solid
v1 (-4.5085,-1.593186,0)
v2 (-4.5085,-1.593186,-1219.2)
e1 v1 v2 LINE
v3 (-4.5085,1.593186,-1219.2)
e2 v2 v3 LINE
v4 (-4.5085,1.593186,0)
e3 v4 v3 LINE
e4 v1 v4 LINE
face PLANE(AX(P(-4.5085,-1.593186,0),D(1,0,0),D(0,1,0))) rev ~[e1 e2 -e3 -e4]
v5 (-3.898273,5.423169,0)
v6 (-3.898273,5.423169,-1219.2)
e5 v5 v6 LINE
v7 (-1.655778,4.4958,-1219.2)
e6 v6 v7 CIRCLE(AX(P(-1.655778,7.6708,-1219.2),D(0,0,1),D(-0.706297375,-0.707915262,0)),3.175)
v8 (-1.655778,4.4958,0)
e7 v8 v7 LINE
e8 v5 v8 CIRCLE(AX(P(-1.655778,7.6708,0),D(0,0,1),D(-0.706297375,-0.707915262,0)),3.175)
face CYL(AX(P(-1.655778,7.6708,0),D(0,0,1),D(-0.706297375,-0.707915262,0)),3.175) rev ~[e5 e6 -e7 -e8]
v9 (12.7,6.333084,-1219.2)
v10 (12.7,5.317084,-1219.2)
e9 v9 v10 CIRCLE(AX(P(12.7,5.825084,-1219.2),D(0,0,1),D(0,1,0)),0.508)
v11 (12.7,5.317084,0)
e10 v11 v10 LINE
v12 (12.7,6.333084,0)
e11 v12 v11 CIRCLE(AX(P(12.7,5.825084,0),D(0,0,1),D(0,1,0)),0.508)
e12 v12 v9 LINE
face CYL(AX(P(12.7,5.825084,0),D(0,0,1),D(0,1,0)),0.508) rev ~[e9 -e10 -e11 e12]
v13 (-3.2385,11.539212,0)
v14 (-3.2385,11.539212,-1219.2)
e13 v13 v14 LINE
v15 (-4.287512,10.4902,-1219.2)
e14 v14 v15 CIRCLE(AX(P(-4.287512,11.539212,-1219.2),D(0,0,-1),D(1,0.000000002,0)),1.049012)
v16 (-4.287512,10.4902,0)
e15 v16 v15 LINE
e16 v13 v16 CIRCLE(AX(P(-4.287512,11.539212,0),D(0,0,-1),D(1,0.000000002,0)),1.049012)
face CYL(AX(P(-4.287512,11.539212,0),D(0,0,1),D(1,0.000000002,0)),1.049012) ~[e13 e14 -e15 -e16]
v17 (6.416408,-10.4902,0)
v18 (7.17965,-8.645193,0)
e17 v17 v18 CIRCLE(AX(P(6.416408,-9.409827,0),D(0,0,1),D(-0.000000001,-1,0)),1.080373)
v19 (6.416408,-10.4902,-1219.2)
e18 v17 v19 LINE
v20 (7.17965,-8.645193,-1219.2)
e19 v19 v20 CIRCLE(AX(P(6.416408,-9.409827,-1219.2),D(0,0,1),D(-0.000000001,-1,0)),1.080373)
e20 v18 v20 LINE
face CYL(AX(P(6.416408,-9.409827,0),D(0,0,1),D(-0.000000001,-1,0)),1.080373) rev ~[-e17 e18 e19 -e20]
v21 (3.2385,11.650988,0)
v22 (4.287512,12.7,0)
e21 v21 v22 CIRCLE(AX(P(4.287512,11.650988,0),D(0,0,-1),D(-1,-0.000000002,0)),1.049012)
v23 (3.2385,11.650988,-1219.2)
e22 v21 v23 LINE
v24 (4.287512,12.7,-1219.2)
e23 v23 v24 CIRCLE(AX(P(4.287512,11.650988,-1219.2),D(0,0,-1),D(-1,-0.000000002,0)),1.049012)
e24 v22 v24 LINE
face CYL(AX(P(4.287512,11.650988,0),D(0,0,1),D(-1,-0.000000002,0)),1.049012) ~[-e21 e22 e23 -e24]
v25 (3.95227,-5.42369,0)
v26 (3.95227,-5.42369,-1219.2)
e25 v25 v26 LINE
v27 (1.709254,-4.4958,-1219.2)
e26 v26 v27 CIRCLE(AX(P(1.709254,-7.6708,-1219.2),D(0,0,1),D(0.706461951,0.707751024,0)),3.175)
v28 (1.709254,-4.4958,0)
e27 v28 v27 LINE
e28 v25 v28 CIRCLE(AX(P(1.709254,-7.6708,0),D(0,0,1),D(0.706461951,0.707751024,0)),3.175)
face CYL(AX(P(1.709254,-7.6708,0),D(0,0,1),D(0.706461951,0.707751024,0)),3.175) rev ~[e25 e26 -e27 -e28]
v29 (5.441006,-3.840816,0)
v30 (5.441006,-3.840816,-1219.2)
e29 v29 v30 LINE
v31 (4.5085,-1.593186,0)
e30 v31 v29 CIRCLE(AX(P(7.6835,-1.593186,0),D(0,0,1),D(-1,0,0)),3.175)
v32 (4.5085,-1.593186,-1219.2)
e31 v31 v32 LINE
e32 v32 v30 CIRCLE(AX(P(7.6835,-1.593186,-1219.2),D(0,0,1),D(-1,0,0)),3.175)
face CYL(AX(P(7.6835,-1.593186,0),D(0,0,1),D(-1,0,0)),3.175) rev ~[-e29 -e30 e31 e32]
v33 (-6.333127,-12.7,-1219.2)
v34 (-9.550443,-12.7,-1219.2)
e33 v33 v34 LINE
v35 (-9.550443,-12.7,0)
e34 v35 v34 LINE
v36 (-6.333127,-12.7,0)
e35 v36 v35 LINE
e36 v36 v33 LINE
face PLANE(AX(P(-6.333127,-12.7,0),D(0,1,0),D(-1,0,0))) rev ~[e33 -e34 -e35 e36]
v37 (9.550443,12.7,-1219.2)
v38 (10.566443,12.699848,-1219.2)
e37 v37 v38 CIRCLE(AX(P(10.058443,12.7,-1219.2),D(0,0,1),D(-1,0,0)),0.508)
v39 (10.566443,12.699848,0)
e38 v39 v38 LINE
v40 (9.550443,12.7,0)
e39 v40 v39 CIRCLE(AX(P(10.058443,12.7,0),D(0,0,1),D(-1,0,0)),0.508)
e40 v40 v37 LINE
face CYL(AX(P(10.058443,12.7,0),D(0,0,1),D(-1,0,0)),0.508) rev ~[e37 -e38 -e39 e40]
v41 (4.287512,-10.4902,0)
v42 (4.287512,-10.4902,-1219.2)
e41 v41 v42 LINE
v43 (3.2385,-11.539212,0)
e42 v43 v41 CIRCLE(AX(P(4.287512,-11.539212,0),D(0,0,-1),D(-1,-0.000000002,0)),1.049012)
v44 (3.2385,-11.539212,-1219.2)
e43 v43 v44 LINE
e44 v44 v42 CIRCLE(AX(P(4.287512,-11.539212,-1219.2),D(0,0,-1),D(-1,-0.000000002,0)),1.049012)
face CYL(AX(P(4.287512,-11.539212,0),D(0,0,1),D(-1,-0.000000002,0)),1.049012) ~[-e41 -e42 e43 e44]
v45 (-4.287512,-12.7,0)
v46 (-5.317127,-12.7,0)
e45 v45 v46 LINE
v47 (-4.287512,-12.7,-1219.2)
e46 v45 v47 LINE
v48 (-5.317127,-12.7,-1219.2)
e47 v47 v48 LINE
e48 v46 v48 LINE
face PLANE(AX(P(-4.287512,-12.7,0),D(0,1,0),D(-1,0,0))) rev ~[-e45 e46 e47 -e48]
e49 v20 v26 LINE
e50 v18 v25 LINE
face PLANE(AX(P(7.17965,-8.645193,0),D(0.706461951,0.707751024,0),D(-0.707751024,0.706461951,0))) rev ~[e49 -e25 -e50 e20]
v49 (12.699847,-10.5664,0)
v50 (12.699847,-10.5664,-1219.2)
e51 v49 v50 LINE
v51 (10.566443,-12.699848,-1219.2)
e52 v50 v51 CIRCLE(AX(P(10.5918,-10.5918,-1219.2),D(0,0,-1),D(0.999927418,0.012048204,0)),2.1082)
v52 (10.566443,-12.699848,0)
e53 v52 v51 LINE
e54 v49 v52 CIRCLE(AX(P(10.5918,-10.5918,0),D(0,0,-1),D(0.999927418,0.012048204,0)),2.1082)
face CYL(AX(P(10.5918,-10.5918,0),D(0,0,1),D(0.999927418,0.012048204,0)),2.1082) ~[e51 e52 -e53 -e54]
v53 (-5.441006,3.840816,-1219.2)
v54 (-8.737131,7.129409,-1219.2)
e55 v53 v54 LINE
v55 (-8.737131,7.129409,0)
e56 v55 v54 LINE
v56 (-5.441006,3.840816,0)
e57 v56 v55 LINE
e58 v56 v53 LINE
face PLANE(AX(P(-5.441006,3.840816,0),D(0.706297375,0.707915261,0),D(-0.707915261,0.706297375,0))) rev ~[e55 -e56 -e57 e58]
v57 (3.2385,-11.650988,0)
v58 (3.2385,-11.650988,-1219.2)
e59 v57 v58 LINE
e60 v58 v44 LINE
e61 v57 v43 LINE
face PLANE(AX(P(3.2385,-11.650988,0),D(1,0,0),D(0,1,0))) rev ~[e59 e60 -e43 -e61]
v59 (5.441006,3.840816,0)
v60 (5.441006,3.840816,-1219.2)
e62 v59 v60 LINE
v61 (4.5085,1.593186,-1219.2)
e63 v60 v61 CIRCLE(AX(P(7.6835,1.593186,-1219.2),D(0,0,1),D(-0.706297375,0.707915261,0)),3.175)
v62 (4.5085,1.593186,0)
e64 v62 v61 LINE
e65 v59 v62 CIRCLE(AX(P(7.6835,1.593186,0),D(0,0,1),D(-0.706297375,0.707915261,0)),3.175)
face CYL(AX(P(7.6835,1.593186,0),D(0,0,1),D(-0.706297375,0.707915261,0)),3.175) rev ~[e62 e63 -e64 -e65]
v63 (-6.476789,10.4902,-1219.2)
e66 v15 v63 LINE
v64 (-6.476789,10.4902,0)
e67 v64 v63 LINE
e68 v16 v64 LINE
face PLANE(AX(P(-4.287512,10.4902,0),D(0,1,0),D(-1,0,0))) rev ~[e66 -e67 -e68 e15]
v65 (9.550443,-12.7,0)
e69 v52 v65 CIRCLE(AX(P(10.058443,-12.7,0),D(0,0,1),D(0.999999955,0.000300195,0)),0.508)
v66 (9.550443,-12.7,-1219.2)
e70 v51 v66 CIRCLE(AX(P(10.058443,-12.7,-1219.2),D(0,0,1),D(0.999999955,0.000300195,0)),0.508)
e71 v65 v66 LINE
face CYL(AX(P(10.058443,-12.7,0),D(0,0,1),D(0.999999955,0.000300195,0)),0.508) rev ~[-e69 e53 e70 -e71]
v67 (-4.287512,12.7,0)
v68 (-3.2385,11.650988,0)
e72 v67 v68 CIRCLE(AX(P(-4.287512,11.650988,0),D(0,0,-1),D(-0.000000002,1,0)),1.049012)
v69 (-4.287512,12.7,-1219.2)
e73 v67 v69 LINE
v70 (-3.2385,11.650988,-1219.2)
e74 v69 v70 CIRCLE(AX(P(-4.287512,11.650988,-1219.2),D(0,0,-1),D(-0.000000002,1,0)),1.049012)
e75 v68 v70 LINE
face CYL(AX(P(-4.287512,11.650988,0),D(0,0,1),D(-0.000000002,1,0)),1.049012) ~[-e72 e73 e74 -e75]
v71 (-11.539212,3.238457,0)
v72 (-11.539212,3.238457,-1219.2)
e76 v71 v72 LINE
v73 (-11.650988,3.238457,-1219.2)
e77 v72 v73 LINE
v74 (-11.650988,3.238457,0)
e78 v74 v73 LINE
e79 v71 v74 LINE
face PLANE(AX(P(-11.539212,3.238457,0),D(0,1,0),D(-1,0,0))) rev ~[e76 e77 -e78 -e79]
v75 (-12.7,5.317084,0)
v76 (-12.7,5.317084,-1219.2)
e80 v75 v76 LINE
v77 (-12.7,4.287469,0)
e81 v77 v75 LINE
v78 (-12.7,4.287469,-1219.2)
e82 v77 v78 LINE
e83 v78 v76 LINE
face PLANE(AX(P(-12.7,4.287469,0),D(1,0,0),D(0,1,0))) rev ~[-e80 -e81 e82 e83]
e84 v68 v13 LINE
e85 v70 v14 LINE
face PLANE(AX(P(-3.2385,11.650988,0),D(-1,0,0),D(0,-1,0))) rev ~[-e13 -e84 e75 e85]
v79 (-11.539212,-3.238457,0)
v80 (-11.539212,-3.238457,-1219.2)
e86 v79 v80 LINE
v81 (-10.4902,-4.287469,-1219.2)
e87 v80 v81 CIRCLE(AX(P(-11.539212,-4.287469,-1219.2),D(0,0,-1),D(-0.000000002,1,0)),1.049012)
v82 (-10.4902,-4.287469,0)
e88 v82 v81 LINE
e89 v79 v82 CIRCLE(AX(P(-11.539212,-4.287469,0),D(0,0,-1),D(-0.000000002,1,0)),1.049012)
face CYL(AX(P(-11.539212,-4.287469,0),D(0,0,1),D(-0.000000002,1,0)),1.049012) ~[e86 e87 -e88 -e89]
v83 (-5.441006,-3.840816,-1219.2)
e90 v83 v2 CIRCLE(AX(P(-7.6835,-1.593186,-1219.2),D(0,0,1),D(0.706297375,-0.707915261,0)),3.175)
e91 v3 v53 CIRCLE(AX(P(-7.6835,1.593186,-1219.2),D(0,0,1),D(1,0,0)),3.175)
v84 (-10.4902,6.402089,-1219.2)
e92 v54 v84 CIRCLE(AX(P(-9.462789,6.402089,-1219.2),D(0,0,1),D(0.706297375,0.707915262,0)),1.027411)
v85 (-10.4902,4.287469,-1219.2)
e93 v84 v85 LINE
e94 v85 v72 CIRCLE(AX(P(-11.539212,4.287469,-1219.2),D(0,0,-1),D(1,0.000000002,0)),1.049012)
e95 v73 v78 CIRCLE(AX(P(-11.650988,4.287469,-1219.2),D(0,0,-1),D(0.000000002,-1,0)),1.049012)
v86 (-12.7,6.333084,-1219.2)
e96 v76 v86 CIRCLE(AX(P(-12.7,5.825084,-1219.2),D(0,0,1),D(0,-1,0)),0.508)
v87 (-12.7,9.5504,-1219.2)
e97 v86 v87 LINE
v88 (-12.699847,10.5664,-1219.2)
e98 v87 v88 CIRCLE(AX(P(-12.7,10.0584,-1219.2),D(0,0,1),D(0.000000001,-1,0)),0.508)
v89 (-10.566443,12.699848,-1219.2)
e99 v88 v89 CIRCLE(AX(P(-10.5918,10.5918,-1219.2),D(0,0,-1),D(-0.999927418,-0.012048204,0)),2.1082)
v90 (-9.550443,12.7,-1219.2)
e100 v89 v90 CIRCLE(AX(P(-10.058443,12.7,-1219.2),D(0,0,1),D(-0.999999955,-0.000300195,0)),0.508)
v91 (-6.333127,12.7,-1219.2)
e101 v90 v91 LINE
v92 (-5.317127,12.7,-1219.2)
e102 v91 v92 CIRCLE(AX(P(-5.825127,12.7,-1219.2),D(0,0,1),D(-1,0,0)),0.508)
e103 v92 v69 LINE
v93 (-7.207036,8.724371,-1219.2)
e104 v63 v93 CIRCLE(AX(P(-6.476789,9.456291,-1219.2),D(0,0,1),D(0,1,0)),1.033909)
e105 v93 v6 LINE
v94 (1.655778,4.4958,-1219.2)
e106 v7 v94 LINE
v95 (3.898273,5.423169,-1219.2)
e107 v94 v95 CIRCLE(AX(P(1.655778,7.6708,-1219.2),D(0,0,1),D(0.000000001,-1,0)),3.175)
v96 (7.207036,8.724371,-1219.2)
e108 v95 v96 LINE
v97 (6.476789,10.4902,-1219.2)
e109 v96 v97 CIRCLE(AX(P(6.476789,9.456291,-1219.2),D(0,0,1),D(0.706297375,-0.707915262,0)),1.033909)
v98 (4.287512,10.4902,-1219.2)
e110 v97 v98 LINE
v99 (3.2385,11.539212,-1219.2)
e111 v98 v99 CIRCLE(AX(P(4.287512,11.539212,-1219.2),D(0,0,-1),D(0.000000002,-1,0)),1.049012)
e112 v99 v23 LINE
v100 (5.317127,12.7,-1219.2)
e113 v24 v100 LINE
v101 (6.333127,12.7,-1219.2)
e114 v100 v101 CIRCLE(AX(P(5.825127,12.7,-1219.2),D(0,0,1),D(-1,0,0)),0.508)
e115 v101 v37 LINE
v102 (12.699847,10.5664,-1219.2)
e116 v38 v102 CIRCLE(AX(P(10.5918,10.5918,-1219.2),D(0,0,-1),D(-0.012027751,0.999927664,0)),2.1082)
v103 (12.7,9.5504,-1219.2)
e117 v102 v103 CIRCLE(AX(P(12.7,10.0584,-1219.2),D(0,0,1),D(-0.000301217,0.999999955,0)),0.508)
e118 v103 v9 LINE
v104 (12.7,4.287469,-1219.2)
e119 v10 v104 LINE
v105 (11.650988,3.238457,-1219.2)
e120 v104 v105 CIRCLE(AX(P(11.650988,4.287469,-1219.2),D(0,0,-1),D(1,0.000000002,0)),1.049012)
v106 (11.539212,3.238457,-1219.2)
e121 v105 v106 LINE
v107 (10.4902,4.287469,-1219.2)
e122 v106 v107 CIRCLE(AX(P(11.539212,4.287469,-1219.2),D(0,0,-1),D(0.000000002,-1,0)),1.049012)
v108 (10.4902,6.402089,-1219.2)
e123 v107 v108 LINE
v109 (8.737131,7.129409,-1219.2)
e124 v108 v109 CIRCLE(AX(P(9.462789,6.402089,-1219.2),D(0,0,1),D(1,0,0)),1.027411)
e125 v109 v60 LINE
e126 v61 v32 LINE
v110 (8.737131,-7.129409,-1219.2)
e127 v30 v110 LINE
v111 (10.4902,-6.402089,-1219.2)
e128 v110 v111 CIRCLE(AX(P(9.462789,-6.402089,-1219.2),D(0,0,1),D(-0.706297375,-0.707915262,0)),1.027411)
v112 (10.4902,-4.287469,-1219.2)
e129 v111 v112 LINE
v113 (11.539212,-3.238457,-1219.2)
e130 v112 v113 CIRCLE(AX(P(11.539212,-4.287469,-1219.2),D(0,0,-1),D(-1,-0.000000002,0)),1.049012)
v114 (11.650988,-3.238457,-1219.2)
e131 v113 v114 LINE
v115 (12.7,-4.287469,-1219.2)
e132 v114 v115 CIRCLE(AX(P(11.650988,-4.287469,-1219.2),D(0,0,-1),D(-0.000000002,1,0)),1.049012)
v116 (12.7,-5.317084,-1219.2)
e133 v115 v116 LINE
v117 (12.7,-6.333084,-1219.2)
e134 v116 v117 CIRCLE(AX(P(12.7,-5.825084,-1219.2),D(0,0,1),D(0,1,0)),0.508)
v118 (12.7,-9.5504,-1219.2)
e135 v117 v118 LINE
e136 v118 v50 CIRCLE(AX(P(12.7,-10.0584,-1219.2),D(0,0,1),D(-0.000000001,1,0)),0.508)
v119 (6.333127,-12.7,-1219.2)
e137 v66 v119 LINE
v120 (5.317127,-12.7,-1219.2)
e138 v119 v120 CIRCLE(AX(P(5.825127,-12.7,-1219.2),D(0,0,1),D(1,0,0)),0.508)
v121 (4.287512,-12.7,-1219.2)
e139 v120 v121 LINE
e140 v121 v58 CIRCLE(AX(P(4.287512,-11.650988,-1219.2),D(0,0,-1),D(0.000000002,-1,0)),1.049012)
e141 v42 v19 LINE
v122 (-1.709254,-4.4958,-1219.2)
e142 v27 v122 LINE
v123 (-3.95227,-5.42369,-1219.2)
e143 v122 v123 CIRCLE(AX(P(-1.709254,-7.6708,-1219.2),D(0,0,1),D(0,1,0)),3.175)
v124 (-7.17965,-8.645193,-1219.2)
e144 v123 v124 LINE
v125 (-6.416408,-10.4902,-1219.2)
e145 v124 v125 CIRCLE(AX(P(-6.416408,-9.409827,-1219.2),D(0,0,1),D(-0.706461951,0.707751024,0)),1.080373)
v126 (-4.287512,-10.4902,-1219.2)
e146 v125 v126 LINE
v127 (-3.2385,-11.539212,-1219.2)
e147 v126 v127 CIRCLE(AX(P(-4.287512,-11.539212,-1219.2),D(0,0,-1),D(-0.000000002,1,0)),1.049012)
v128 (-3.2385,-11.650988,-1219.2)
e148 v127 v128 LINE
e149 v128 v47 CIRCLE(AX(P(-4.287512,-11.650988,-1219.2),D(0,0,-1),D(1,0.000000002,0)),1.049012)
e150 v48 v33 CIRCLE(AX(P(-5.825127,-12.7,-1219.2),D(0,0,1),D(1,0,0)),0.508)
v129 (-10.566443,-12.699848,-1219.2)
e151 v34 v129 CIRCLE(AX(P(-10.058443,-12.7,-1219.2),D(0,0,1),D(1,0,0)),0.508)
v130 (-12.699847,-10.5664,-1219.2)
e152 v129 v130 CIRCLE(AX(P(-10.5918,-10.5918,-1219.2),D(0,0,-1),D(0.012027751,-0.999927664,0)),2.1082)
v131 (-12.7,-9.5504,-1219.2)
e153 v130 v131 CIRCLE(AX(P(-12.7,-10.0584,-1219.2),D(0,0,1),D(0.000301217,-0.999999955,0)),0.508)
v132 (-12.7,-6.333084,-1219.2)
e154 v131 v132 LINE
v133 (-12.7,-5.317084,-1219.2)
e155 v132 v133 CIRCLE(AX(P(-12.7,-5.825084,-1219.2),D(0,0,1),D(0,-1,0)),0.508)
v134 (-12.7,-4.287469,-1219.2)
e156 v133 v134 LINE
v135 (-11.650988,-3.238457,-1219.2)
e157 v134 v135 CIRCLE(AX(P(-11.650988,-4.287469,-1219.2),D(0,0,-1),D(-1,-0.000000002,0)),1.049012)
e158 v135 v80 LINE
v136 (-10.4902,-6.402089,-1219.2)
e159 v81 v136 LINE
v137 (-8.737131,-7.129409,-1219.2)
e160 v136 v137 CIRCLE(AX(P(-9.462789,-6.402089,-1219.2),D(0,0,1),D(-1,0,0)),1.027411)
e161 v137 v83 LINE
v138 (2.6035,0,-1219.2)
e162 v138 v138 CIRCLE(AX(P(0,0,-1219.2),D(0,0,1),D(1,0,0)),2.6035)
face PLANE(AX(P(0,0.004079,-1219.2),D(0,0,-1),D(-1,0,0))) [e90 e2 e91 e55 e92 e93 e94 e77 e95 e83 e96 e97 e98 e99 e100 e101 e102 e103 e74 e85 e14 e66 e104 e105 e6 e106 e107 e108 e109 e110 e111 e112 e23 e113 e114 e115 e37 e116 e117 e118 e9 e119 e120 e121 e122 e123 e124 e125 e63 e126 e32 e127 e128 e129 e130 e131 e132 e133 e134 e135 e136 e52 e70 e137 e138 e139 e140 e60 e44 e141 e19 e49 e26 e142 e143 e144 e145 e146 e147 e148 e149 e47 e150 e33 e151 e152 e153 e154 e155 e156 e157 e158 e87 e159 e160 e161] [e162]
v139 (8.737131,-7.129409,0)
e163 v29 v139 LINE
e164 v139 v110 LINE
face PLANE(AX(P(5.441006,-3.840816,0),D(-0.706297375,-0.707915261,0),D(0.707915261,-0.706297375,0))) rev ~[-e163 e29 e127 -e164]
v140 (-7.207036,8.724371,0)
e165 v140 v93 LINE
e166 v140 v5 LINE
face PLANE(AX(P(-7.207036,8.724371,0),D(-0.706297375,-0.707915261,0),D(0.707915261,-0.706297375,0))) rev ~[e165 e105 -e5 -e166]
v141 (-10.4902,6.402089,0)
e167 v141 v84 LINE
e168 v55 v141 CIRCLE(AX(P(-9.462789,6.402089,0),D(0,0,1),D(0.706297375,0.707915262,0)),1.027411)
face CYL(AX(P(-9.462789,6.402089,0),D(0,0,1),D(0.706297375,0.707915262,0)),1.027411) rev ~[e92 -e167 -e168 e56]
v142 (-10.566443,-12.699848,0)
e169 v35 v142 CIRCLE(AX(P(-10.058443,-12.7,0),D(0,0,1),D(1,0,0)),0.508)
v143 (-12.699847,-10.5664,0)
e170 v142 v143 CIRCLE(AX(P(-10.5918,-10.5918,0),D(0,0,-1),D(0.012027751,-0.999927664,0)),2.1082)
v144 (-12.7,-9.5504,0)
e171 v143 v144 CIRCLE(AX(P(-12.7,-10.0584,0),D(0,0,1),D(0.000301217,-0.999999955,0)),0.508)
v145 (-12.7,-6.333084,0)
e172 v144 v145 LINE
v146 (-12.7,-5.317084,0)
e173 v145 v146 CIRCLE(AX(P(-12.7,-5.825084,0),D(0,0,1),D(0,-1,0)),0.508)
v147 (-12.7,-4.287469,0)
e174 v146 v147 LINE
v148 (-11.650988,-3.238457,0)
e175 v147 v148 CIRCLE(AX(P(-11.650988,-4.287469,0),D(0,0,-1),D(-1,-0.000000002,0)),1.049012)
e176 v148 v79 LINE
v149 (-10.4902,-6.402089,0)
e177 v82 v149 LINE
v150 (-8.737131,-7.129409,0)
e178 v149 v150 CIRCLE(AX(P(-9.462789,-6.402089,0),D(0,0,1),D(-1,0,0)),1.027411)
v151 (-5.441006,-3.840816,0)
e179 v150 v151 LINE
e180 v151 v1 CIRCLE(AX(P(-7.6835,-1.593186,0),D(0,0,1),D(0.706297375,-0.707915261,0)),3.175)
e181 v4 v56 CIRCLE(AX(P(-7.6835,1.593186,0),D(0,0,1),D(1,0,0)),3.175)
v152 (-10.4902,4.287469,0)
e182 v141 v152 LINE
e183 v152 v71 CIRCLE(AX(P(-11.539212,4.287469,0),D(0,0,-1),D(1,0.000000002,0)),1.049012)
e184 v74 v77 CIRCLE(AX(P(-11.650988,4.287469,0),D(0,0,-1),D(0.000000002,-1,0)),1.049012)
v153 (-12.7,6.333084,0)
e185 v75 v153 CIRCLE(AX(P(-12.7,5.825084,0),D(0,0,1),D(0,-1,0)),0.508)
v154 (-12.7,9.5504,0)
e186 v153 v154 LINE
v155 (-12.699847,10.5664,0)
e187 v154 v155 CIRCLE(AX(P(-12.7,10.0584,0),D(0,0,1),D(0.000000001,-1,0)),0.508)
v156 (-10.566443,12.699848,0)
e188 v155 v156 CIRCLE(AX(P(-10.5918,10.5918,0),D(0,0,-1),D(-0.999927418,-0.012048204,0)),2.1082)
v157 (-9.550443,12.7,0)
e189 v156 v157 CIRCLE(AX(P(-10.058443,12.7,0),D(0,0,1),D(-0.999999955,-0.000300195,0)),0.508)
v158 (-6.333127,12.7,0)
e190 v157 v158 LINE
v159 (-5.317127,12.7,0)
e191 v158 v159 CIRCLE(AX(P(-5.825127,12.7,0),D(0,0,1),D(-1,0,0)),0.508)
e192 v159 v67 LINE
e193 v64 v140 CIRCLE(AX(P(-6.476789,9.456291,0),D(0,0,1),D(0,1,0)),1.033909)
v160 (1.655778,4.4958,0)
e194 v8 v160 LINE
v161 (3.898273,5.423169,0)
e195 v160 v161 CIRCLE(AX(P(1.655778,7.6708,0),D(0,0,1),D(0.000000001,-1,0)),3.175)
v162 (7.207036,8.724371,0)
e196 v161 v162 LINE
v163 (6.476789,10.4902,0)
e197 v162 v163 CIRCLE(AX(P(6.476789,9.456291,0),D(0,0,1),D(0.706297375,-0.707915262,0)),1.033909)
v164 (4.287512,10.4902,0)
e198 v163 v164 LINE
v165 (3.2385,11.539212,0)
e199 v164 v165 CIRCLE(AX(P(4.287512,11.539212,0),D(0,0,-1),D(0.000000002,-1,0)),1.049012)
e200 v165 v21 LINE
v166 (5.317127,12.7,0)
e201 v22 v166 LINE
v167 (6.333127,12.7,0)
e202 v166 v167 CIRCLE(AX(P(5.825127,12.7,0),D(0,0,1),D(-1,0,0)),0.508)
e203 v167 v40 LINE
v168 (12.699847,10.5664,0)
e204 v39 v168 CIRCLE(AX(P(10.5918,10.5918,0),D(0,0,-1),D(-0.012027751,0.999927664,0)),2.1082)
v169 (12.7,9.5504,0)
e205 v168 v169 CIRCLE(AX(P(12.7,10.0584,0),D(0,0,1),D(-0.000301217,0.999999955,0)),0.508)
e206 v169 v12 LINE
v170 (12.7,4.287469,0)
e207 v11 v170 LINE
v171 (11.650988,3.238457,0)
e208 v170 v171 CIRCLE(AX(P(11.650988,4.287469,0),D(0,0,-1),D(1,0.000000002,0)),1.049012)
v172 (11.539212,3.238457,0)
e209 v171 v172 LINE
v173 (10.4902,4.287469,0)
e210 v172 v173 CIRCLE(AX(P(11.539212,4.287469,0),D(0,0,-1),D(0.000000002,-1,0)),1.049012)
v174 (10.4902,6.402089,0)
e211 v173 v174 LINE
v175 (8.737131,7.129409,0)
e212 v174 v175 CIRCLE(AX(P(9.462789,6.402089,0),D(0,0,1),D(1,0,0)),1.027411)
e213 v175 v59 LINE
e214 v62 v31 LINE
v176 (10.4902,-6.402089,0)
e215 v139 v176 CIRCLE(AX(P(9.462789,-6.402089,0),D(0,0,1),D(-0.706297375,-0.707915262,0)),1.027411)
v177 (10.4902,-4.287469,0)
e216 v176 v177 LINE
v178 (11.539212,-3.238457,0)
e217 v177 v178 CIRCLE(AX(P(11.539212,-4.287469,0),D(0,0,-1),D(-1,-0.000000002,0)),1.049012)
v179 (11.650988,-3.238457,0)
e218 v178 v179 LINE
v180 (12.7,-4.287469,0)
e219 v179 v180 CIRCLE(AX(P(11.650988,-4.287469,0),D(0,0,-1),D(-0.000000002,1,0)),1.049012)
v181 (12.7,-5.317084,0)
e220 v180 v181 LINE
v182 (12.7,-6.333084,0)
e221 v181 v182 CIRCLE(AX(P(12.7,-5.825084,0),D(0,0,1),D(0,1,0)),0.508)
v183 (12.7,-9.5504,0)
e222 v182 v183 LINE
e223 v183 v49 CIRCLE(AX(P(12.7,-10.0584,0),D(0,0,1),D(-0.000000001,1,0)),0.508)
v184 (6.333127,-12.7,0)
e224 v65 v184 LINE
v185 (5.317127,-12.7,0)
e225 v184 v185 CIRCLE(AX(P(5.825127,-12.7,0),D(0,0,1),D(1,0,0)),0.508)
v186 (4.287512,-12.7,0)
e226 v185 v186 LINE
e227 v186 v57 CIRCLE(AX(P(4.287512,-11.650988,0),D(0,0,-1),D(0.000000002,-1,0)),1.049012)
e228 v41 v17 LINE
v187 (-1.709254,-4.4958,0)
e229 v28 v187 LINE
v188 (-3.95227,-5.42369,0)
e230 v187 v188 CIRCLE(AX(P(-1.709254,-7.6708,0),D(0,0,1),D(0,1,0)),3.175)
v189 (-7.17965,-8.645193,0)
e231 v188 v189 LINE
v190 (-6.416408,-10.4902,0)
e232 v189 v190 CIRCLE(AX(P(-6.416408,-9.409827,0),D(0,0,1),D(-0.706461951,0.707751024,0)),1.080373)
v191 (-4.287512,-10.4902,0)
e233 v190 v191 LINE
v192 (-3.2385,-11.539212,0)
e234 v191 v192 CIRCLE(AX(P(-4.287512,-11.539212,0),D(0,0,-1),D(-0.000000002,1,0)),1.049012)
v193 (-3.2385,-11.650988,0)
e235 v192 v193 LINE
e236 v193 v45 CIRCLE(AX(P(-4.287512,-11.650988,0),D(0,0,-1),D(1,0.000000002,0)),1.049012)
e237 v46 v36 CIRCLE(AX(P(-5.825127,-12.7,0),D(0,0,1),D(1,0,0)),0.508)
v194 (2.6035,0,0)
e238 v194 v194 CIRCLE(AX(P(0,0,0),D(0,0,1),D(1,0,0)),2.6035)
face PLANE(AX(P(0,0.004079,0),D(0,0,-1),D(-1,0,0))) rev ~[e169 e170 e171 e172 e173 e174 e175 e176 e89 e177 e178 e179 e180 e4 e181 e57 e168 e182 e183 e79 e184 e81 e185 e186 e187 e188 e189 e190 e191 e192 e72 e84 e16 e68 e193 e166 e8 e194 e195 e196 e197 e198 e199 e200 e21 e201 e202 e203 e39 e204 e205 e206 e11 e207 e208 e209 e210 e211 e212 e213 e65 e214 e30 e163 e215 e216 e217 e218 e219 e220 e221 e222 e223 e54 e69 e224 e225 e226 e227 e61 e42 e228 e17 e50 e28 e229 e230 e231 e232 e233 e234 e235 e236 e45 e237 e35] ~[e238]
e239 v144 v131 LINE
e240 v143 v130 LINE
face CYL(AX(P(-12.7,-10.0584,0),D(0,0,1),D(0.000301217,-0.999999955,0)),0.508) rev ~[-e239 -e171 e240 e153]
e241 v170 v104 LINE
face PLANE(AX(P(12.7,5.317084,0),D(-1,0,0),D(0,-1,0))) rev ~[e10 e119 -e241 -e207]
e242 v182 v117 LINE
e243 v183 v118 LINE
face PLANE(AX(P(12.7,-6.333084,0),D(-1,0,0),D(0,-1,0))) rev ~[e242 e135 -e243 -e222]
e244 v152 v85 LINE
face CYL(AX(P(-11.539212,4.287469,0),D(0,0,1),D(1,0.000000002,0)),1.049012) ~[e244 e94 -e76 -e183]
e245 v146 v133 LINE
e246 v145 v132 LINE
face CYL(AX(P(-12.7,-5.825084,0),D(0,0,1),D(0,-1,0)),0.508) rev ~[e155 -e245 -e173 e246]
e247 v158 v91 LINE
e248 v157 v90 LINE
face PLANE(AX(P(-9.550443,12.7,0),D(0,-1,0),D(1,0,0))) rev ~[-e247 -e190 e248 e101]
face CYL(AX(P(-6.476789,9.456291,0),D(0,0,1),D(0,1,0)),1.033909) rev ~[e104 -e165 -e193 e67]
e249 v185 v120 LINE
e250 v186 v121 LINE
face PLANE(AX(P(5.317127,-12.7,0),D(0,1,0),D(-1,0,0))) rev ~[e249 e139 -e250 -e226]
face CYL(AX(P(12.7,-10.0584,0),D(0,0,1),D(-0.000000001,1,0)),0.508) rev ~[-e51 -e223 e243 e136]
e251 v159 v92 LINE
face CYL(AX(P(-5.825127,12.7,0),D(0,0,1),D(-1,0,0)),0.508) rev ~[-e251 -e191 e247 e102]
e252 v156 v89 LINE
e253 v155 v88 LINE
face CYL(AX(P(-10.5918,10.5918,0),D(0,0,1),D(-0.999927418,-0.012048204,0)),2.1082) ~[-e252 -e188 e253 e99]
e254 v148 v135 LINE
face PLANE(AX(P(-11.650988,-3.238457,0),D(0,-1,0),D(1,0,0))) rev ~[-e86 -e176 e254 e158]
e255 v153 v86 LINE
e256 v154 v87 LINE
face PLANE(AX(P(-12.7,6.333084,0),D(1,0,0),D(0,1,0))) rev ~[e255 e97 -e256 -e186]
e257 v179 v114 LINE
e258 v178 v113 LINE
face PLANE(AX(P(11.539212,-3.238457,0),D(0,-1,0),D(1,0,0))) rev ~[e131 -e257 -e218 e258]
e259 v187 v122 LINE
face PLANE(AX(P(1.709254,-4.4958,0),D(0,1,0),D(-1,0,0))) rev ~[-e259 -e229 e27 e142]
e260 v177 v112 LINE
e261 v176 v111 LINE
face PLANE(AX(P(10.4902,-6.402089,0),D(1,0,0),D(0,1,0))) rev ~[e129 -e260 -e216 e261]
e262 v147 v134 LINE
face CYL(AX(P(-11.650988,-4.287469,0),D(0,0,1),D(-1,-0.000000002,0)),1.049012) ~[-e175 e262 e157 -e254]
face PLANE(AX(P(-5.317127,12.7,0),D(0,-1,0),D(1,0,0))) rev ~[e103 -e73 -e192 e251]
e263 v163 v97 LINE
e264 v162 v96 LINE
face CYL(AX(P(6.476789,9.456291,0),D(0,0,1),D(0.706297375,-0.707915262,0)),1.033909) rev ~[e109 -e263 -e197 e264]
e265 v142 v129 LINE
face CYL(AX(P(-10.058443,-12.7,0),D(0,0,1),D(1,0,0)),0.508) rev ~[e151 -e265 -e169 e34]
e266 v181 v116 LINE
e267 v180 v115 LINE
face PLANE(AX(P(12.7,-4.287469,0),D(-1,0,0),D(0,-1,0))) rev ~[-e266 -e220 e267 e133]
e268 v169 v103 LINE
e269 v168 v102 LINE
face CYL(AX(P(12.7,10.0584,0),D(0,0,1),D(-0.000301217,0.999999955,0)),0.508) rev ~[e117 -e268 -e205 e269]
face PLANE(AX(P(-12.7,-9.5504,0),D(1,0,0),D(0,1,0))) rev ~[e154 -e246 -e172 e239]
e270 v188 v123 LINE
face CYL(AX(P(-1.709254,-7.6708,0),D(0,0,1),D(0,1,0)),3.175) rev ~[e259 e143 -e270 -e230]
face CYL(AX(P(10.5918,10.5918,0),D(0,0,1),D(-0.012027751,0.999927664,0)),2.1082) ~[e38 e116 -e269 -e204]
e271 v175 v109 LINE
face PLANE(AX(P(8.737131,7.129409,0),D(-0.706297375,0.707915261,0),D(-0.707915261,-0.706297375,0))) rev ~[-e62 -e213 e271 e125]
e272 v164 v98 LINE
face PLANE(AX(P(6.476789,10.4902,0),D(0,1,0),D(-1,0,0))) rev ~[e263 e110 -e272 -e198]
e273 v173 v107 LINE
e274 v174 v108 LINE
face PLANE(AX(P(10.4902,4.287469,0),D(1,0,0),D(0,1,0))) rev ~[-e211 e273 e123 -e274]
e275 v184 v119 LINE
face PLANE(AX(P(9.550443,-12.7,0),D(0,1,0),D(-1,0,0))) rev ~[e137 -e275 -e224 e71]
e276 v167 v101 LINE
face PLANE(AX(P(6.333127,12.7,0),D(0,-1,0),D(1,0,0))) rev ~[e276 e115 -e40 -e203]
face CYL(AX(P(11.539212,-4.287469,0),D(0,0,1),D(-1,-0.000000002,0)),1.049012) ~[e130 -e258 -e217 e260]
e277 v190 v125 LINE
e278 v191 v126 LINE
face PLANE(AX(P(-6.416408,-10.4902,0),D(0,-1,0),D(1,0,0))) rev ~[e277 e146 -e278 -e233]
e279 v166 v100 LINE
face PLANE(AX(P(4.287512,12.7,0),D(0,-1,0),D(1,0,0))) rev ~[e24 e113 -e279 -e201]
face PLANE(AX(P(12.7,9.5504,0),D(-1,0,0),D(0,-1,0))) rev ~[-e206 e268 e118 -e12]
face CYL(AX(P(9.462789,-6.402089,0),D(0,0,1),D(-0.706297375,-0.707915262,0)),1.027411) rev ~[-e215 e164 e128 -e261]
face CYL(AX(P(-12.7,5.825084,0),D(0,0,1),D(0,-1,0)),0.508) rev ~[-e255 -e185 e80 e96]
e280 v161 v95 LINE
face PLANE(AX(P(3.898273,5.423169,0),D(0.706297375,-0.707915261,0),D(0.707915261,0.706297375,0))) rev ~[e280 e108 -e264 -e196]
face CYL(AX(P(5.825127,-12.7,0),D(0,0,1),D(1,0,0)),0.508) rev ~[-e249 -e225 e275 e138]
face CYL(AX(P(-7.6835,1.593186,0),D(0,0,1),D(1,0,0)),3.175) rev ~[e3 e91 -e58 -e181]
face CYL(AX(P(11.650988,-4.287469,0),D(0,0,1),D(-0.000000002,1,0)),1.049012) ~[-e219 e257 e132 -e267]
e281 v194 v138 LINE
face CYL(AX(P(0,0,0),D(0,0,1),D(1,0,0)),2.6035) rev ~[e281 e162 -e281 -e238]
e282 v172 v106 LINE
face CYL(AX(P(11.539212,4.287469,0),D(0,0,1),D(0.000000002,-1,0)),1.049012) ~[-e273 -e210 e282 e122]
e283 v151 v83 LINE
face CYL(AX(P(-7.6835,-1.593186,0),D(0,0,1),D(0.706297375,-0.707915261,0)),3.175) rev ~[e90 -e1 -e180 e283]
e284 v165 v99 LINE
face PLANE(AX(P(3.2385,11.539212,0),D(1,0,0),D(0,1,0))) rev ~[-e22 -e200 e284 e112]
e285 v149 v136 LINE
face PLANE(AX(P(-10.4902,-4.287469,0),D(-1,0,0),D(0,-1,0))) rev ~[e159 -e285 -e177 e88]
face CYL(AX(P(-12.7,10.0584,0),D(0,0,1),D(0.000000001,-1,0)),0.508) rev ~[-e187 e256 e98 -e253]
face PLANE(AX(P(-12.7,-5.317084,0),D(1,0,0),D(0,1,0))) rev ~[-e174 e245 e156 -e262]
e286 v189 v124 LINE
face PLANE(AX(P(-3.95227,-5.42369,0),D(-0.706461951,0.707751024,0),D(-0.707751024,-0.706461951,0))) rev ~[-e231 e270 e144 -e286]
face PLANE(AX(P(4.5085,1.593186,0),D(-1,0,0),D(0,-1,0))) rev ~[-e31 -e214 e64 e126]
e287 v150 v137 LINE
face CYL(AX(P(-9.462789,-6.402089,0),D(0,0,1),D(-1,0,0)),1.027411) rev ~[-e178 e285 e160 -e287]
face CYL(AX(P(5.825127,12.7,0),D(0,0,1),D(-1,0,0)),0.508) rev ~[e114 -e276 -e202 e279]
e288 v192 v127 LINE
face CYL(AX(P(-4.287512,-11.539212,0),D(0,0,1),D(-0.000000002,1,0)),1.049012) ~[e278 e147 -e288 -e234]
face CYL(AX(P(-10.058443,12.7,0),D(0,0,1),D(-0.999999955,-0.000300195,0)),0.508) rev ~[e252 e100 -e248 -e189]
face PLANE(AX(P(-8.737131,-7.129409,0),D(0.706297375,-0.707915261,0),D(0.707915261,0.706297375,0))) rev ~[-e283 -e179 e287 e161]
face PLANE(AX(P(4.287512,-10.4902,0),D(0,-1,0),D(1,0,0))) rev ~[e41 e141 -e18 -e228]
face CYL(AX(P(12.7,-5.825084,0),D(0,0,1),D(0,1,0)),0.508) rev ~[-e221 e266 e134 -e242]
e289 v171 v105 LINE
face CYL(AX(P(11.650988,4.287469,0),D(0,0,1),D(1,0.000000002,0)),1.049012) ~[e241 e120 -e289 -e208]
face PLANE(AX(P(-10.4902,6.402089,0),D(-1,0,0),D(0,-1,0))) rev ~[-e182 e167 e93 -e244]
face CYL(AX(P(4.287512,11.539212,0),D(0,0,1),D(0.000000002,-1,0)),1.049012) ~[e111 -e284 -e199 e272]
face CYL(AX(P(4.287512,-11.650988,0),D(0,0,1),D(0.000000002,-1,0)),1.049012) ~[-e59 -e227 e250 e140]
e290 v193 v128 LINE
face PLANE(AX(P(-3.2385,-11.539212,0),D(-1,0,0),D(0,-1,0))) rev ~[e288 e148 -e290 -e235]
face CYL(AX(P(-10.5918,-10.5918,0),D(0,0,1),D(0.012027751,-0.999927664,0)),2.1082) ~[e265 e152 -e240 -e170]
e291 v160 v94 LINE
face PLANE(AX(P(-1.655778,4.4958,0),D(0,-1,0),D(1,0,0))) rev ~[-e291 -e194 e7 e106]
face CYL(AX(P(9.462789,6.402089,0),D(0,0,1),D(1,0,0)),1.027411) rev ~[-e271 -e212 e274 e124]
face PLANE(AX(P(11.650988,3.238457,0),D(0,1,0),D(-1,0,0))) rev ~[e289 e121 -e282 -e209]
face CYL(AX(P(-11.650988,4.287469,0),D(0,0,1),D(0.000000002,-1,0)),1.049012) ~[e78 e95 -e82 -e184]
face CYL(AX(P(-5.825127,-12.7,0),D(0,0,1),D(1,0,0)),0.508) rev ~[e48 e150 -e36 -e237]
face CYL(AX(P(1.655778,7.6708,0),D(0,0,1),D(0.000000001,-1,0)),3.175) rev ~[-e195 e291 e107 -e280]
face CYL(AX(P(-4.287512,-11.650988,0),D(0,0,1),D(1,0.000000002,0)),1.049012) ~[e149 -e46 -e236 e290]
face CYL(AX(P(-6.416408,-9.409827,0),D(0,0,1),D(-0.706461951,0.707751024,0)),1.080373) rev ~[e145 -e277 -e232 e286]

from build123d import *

# Parameters (mm, degrees)
SKETCH1_R      = 2.6035
EXTRUDE1_DEPTH = 1219.2


with BuildPart() as part:
    # Sketch1 → Extrude1 (new body)
    with BuildSketch(Plane.XY):
        with BuildLine():
            Line((-7.207036008, 8.724370562), (-3.898272566, 5.423169045))
            ThreePointArc((-3.898272566, 5.423169045), (-2.869120213, 4.736787962), (-1.655778399, 4.4958))
            Line((-1.655778399, 4.4958), (1.655778399, 4.4958))
            ThreePointArc((1.655778399, 4.4958), (2.869120213, 4.736787962), (3.898272566, 5.423169045))
            Line((3.898272566, 5.423169045), (7.207036008, 8.724370562))
            ThreePointArc((7.207036008, 8.724370562), (7.432222385, 9.85140422), (6.476788598, 10.4902))
            Line((6.476788598, 10.4902), (4.287512407, 10.4902))
            ThreePointArc((4.287512407, 10.4902), (3.54574862, 10.79744862), (3.2385, 11.539212407))
            Line((3.2385, 11.539212407), (3.2385, 11.650987593))
            ThreePointArc((3.2385, 11.650987593), (3.54574862, 12.39275138), (4.287512407, 12.7))
            Line((4.287512407, 12.7), (5.317126718, 12.7))
            ThreePointArc((5.317126718, 12.7), (5.825126718, 12.192), (6.333126718, 12.7))
            Line((6.333126718, 12.7), (9.550443118, 12.7))
            ThreePointArc((9.550443118, 12.7), (10.058366869, 12.192000006), (10.566443095, 12.699847501))
            ThreePointArc((10.566443095, 12.699847501), (12.082537762, 12.08250727), (12.699846982, 10.566399977))
            ThreePointArc((12.699846982, 10.566399977), (12.192000006, 10.058323491), (12.7, 9.5504))
            Line((12.7, 9.5504), (12.7, 6.3330836))
            ThreePointArc((12.7, 6.3330836), (12.192, 5.8250836), (12.7, 5.3170836))
            Line((12.7, 5.3170836), (12.7, 4.287469289))
            ThreePointArc((12.7, 4.287469289), (12.39275138, 3.545705502), (11.650987593, 3.238456882))
            Line((11.650987593, 3.238456882), (11.539212407, 3.238456882))
            ThreePointArc((11.539212407, 3.238456882), (10.79744862, 3.545705502), (10.4902, 4.287469289))
            Line((10.4902, 4.287469289), (10.4902, 6.402089023))
            ThreePointArc((10.4902, 6.402089023), (9.856505071, 7.351067942), (8.737131347, 7.129408934))
            Line((8.737131347, 7.129408934), (5.441005833, 3.840816462))
            ThreePointArc((5.441005833, 3.840816462), (4.750877967, 2.809883091), (4.5085, 1.593185507))
            Line((4.5085, 1.593185507), (4.5085, -1.593185507))
            ThreePointArc((4.5085, -1.593185507), (4.750877967, -2.809883091), (5.441005833, -3.840816462))
            Line((5.441005833, -3.840816462), (8.737131347, -7.129408934))
            ThreePointArc((8.737131347, -7.129408934), (9.856505071, -7.351067942), (10.4902, -6.402089023))
            Line((10.4902, -6.402089023), (10.4902, -4.287469289))
            ThreePointArc((10.4902, -4.287469289), (10.79744862, -3.545705502), (11.539212407, -3.238456882))
            Line((11.539212407, -3.238456882), (11.650987593, -3.238456882))
            ThreePointArc((11.650987593, -3.238456882), (12.39275138, -3.545705502), (12.7, -4.287469289))
            Line((12.7, -4.287469289), (12.7, -5.3170836))
            ThreePointArc((12.7, -5.3170836), (12.192, -5.8250836), (12.7, -6.3330836))
            Line((12.7, -6.3330836), (12.7, -9.5504))
            ThreePointArc((12.7, -9.5504), (12.192000006, -10.058323491), (12.699846982, -10.566399977))
            ThreePointArc((12.699846982, -10.566399977), (12.082537762, -12.08250727), (10.566443095, -12.699847501))
            ThreePointArc((10.566443095, -12.699847501), (10.058366869, -12.192000006), (9.550443118, -12.7))
            Line((9.550443118, -12.7), (6.333126718, -12.7))
            ThreePointArc((6.333126718, -12.7), (5.825126718, -12.192), (5.317126718, -12.7))
            Line((5.317126718, -12.7), (4.287512407, -12.7))
            ThreePointArc((4.287512407, -12.7), (3.54574862, -12.39275138), (3.2385, -11.650987593))
            Line((3.2385, -11.650987593), (3.2385, -11.539212407))
            ThreePointArc((3.2385, -11.539212407), (3.54574862, -10.79744862), (4.287512407, -10.4902))
            Line((4.287512407, -10.4902), (6.416408329, -10.4902))
            ThreePointArc((6.416408329, -10.4902), (7.41473083, -9.822813117), (7.179650497, -8.645192506))
            Line((7.179650497, -8.645192506), (3.952270251, -5.423690499))
            ThreePointArc((3.952270251, -5.423690499), (2.922936451, -4.736929036), (1.709253557, -4.4958))
            Line((1.709253557, -4.4958), (-1.709253557, -4.4958))
            ThreePointArc((-1.709253557, -4.4958), (-2.922936451, -4.736929036), (-3.952270251, -5.423690499))
            Line((-3.952270251, -5.423690499), (-7.179650497, -8.645192506))
            ThreePointArc((-7.179650497, -8.645192506), (-7.41473083, -9.822813117), (-6.416408329, -10.4902))
            Line((-6.416408329, -10.4902), (-4.287512407, -10.4902))
            ThreePointArc((-4.287512407, -10.4902), (-3.54574862, -10.79744862), (-3.2385, -11.539212407))
            Line((-3.2385, -11.539212407), (-3.2385, -11.650987593))
            ThreePointArc((-3.2385, -11.650987593), (-3.54574862, -12.39275138), (-4.287512407, -12.7))
            Line((-4.287512407, -12.7), (-5.317126718, -12.7))
            ThreePointArc((-5.317126718, -12.7), (-5.825126718, -12.192), (-6.333126718, -12.7))
            Line((-6.333126718, -12.7), (-9.550443118, -12.7))
            ThreePointArc((-9.550443118, -12.7), (-10.058366869, -12.192000006), (-10.566443095, -12.699847501))
            ThreePointArc((-10.566443095, -12.699847501), (-12.082537762, -12.08250727), (-12.699846982, -10.566399977))
            ThreePointArc((-12.699846982, -10.566399977), (-12.192000006, -10.058323491), (-12.7, -9.5504))
            Line((-12.7, -9.5504), (-12.7, -6.3330836))
            ThreePointArc((-12.7, -6.3330836), (-12.192, -5.8250836), (-12.7, -5.3170836))
            Line((-12.7, -5.3170836), (-12.7, -4.287469289))
            ThreePointArc((-12.7, -4.287469289), (-12.39275138, -3.545705502), (-11.650987593, -3.238456882))
            Line((-11.650987593, -3.238456882), (-11.539212407, -3.238456882))
            ThreePointArc((-11.539212407, -3.238456882), (-10.79744862, -3.545705502), (-10.4902, -4.287469289))
            Line((-10.4902, -4.287469289), (-10.4902, -6.402089023))
            ThreePointArc((-10.4902, -6.402089023), (-9.856505071, -7.351067942), (-8.737131347, -7.129408934))
            Line((-8.737131347, -7.129408934), (-5.441005833, -3.840816462))
            ThreePointArc((-5.441005833, -3.840816462), (-4.750877967, -2.809883091), (-4.5085, -1.593185507))
            Line((-4.5085, -1.593185507), (-4.5085, 1.593185507))
            ThreePointArc((-4.5085, 1.593185507), (-4.750877967, 2.809883091), (-5.441005833, 3.840816462))
            Line((-5.441005833, 3.840816462), (-8.737131347, 7.129408934))
            ThreePointArc((-8.737131347, 7.129408934), (-9.856505071, 7.351067942), (-10.4902, 6.402089023))
            Line((-10.4902, 6.402089023), (-10.4902, 4.287469289))
            ThreePointArc((-10.4902, 4.287469289), (-10.79744862, 3.545705502), (-11.539212407, 3.238456882))
            Line((-11.539212407, 3.238456882), (-11.650987593, 3.238456882))
            ThreePointArc((-11.650987593, 3.238456882), (-12.39275138, 3.545705502), (-12.7, 4.287469289))
            Line((-12.7, 4.287469289), (-12.7, 5.3170836))
            ThreePointArc((-12.7, 5.3170836), (-12.192, 5.8250836), (-12.7, 6.3330836))
            Line((-12.7, 6.3330836), (-12.7, 9.5504))
            ThreePointArc((-12.7, 9.5504), (-12.192000006, 10.058323491), (-12.699846982, 10.566399977))
            ThreePointArc((-12.699846982, 10.566399977), (-12.082537762, 12.08250727), (-10.566443095, 12.699847501))
            ThreePointArc((-10.566443095, 12.699847501), (-10.058366869, 12.192000006), (-9.550443118, 12.7))
            Line((-9.550443118, 12.7), (-6.333126718, 12.7))
            ThreePointArc((-6.333126718, 12.7), (-5.825126718, 12.192), (-5.317126718, 12.7))
            Line((-5.317126718, 12.7), (-4.287512407, 12.7))
            ThreePointArc((-4.287512407, 12.7), (-3.54574862, 12.39275138), (-3.2385, 11.650987593))
            Line((-3.2385, 11.650987593), (-3.2385, 11.539212407))
            ThreePointArc((-3.2385, 11.539212407), (-3.54574862, 10.79744862), (-4.287512407, 10.4902))
            Line((-4.287512407, 10.4902), (-6.476788598, 10.4902))
            ThreePointArc((-6.476788598, 10.4902), (-7.432222385, 9.85140422), (-7.207036008, 8.724370562))
        make_face()
        Circle(SKETCH1_R, mode=Mode.SUBTRACT)
    extrude(amount=-EXTRUDE1_DEPTH)


solid = part.part
